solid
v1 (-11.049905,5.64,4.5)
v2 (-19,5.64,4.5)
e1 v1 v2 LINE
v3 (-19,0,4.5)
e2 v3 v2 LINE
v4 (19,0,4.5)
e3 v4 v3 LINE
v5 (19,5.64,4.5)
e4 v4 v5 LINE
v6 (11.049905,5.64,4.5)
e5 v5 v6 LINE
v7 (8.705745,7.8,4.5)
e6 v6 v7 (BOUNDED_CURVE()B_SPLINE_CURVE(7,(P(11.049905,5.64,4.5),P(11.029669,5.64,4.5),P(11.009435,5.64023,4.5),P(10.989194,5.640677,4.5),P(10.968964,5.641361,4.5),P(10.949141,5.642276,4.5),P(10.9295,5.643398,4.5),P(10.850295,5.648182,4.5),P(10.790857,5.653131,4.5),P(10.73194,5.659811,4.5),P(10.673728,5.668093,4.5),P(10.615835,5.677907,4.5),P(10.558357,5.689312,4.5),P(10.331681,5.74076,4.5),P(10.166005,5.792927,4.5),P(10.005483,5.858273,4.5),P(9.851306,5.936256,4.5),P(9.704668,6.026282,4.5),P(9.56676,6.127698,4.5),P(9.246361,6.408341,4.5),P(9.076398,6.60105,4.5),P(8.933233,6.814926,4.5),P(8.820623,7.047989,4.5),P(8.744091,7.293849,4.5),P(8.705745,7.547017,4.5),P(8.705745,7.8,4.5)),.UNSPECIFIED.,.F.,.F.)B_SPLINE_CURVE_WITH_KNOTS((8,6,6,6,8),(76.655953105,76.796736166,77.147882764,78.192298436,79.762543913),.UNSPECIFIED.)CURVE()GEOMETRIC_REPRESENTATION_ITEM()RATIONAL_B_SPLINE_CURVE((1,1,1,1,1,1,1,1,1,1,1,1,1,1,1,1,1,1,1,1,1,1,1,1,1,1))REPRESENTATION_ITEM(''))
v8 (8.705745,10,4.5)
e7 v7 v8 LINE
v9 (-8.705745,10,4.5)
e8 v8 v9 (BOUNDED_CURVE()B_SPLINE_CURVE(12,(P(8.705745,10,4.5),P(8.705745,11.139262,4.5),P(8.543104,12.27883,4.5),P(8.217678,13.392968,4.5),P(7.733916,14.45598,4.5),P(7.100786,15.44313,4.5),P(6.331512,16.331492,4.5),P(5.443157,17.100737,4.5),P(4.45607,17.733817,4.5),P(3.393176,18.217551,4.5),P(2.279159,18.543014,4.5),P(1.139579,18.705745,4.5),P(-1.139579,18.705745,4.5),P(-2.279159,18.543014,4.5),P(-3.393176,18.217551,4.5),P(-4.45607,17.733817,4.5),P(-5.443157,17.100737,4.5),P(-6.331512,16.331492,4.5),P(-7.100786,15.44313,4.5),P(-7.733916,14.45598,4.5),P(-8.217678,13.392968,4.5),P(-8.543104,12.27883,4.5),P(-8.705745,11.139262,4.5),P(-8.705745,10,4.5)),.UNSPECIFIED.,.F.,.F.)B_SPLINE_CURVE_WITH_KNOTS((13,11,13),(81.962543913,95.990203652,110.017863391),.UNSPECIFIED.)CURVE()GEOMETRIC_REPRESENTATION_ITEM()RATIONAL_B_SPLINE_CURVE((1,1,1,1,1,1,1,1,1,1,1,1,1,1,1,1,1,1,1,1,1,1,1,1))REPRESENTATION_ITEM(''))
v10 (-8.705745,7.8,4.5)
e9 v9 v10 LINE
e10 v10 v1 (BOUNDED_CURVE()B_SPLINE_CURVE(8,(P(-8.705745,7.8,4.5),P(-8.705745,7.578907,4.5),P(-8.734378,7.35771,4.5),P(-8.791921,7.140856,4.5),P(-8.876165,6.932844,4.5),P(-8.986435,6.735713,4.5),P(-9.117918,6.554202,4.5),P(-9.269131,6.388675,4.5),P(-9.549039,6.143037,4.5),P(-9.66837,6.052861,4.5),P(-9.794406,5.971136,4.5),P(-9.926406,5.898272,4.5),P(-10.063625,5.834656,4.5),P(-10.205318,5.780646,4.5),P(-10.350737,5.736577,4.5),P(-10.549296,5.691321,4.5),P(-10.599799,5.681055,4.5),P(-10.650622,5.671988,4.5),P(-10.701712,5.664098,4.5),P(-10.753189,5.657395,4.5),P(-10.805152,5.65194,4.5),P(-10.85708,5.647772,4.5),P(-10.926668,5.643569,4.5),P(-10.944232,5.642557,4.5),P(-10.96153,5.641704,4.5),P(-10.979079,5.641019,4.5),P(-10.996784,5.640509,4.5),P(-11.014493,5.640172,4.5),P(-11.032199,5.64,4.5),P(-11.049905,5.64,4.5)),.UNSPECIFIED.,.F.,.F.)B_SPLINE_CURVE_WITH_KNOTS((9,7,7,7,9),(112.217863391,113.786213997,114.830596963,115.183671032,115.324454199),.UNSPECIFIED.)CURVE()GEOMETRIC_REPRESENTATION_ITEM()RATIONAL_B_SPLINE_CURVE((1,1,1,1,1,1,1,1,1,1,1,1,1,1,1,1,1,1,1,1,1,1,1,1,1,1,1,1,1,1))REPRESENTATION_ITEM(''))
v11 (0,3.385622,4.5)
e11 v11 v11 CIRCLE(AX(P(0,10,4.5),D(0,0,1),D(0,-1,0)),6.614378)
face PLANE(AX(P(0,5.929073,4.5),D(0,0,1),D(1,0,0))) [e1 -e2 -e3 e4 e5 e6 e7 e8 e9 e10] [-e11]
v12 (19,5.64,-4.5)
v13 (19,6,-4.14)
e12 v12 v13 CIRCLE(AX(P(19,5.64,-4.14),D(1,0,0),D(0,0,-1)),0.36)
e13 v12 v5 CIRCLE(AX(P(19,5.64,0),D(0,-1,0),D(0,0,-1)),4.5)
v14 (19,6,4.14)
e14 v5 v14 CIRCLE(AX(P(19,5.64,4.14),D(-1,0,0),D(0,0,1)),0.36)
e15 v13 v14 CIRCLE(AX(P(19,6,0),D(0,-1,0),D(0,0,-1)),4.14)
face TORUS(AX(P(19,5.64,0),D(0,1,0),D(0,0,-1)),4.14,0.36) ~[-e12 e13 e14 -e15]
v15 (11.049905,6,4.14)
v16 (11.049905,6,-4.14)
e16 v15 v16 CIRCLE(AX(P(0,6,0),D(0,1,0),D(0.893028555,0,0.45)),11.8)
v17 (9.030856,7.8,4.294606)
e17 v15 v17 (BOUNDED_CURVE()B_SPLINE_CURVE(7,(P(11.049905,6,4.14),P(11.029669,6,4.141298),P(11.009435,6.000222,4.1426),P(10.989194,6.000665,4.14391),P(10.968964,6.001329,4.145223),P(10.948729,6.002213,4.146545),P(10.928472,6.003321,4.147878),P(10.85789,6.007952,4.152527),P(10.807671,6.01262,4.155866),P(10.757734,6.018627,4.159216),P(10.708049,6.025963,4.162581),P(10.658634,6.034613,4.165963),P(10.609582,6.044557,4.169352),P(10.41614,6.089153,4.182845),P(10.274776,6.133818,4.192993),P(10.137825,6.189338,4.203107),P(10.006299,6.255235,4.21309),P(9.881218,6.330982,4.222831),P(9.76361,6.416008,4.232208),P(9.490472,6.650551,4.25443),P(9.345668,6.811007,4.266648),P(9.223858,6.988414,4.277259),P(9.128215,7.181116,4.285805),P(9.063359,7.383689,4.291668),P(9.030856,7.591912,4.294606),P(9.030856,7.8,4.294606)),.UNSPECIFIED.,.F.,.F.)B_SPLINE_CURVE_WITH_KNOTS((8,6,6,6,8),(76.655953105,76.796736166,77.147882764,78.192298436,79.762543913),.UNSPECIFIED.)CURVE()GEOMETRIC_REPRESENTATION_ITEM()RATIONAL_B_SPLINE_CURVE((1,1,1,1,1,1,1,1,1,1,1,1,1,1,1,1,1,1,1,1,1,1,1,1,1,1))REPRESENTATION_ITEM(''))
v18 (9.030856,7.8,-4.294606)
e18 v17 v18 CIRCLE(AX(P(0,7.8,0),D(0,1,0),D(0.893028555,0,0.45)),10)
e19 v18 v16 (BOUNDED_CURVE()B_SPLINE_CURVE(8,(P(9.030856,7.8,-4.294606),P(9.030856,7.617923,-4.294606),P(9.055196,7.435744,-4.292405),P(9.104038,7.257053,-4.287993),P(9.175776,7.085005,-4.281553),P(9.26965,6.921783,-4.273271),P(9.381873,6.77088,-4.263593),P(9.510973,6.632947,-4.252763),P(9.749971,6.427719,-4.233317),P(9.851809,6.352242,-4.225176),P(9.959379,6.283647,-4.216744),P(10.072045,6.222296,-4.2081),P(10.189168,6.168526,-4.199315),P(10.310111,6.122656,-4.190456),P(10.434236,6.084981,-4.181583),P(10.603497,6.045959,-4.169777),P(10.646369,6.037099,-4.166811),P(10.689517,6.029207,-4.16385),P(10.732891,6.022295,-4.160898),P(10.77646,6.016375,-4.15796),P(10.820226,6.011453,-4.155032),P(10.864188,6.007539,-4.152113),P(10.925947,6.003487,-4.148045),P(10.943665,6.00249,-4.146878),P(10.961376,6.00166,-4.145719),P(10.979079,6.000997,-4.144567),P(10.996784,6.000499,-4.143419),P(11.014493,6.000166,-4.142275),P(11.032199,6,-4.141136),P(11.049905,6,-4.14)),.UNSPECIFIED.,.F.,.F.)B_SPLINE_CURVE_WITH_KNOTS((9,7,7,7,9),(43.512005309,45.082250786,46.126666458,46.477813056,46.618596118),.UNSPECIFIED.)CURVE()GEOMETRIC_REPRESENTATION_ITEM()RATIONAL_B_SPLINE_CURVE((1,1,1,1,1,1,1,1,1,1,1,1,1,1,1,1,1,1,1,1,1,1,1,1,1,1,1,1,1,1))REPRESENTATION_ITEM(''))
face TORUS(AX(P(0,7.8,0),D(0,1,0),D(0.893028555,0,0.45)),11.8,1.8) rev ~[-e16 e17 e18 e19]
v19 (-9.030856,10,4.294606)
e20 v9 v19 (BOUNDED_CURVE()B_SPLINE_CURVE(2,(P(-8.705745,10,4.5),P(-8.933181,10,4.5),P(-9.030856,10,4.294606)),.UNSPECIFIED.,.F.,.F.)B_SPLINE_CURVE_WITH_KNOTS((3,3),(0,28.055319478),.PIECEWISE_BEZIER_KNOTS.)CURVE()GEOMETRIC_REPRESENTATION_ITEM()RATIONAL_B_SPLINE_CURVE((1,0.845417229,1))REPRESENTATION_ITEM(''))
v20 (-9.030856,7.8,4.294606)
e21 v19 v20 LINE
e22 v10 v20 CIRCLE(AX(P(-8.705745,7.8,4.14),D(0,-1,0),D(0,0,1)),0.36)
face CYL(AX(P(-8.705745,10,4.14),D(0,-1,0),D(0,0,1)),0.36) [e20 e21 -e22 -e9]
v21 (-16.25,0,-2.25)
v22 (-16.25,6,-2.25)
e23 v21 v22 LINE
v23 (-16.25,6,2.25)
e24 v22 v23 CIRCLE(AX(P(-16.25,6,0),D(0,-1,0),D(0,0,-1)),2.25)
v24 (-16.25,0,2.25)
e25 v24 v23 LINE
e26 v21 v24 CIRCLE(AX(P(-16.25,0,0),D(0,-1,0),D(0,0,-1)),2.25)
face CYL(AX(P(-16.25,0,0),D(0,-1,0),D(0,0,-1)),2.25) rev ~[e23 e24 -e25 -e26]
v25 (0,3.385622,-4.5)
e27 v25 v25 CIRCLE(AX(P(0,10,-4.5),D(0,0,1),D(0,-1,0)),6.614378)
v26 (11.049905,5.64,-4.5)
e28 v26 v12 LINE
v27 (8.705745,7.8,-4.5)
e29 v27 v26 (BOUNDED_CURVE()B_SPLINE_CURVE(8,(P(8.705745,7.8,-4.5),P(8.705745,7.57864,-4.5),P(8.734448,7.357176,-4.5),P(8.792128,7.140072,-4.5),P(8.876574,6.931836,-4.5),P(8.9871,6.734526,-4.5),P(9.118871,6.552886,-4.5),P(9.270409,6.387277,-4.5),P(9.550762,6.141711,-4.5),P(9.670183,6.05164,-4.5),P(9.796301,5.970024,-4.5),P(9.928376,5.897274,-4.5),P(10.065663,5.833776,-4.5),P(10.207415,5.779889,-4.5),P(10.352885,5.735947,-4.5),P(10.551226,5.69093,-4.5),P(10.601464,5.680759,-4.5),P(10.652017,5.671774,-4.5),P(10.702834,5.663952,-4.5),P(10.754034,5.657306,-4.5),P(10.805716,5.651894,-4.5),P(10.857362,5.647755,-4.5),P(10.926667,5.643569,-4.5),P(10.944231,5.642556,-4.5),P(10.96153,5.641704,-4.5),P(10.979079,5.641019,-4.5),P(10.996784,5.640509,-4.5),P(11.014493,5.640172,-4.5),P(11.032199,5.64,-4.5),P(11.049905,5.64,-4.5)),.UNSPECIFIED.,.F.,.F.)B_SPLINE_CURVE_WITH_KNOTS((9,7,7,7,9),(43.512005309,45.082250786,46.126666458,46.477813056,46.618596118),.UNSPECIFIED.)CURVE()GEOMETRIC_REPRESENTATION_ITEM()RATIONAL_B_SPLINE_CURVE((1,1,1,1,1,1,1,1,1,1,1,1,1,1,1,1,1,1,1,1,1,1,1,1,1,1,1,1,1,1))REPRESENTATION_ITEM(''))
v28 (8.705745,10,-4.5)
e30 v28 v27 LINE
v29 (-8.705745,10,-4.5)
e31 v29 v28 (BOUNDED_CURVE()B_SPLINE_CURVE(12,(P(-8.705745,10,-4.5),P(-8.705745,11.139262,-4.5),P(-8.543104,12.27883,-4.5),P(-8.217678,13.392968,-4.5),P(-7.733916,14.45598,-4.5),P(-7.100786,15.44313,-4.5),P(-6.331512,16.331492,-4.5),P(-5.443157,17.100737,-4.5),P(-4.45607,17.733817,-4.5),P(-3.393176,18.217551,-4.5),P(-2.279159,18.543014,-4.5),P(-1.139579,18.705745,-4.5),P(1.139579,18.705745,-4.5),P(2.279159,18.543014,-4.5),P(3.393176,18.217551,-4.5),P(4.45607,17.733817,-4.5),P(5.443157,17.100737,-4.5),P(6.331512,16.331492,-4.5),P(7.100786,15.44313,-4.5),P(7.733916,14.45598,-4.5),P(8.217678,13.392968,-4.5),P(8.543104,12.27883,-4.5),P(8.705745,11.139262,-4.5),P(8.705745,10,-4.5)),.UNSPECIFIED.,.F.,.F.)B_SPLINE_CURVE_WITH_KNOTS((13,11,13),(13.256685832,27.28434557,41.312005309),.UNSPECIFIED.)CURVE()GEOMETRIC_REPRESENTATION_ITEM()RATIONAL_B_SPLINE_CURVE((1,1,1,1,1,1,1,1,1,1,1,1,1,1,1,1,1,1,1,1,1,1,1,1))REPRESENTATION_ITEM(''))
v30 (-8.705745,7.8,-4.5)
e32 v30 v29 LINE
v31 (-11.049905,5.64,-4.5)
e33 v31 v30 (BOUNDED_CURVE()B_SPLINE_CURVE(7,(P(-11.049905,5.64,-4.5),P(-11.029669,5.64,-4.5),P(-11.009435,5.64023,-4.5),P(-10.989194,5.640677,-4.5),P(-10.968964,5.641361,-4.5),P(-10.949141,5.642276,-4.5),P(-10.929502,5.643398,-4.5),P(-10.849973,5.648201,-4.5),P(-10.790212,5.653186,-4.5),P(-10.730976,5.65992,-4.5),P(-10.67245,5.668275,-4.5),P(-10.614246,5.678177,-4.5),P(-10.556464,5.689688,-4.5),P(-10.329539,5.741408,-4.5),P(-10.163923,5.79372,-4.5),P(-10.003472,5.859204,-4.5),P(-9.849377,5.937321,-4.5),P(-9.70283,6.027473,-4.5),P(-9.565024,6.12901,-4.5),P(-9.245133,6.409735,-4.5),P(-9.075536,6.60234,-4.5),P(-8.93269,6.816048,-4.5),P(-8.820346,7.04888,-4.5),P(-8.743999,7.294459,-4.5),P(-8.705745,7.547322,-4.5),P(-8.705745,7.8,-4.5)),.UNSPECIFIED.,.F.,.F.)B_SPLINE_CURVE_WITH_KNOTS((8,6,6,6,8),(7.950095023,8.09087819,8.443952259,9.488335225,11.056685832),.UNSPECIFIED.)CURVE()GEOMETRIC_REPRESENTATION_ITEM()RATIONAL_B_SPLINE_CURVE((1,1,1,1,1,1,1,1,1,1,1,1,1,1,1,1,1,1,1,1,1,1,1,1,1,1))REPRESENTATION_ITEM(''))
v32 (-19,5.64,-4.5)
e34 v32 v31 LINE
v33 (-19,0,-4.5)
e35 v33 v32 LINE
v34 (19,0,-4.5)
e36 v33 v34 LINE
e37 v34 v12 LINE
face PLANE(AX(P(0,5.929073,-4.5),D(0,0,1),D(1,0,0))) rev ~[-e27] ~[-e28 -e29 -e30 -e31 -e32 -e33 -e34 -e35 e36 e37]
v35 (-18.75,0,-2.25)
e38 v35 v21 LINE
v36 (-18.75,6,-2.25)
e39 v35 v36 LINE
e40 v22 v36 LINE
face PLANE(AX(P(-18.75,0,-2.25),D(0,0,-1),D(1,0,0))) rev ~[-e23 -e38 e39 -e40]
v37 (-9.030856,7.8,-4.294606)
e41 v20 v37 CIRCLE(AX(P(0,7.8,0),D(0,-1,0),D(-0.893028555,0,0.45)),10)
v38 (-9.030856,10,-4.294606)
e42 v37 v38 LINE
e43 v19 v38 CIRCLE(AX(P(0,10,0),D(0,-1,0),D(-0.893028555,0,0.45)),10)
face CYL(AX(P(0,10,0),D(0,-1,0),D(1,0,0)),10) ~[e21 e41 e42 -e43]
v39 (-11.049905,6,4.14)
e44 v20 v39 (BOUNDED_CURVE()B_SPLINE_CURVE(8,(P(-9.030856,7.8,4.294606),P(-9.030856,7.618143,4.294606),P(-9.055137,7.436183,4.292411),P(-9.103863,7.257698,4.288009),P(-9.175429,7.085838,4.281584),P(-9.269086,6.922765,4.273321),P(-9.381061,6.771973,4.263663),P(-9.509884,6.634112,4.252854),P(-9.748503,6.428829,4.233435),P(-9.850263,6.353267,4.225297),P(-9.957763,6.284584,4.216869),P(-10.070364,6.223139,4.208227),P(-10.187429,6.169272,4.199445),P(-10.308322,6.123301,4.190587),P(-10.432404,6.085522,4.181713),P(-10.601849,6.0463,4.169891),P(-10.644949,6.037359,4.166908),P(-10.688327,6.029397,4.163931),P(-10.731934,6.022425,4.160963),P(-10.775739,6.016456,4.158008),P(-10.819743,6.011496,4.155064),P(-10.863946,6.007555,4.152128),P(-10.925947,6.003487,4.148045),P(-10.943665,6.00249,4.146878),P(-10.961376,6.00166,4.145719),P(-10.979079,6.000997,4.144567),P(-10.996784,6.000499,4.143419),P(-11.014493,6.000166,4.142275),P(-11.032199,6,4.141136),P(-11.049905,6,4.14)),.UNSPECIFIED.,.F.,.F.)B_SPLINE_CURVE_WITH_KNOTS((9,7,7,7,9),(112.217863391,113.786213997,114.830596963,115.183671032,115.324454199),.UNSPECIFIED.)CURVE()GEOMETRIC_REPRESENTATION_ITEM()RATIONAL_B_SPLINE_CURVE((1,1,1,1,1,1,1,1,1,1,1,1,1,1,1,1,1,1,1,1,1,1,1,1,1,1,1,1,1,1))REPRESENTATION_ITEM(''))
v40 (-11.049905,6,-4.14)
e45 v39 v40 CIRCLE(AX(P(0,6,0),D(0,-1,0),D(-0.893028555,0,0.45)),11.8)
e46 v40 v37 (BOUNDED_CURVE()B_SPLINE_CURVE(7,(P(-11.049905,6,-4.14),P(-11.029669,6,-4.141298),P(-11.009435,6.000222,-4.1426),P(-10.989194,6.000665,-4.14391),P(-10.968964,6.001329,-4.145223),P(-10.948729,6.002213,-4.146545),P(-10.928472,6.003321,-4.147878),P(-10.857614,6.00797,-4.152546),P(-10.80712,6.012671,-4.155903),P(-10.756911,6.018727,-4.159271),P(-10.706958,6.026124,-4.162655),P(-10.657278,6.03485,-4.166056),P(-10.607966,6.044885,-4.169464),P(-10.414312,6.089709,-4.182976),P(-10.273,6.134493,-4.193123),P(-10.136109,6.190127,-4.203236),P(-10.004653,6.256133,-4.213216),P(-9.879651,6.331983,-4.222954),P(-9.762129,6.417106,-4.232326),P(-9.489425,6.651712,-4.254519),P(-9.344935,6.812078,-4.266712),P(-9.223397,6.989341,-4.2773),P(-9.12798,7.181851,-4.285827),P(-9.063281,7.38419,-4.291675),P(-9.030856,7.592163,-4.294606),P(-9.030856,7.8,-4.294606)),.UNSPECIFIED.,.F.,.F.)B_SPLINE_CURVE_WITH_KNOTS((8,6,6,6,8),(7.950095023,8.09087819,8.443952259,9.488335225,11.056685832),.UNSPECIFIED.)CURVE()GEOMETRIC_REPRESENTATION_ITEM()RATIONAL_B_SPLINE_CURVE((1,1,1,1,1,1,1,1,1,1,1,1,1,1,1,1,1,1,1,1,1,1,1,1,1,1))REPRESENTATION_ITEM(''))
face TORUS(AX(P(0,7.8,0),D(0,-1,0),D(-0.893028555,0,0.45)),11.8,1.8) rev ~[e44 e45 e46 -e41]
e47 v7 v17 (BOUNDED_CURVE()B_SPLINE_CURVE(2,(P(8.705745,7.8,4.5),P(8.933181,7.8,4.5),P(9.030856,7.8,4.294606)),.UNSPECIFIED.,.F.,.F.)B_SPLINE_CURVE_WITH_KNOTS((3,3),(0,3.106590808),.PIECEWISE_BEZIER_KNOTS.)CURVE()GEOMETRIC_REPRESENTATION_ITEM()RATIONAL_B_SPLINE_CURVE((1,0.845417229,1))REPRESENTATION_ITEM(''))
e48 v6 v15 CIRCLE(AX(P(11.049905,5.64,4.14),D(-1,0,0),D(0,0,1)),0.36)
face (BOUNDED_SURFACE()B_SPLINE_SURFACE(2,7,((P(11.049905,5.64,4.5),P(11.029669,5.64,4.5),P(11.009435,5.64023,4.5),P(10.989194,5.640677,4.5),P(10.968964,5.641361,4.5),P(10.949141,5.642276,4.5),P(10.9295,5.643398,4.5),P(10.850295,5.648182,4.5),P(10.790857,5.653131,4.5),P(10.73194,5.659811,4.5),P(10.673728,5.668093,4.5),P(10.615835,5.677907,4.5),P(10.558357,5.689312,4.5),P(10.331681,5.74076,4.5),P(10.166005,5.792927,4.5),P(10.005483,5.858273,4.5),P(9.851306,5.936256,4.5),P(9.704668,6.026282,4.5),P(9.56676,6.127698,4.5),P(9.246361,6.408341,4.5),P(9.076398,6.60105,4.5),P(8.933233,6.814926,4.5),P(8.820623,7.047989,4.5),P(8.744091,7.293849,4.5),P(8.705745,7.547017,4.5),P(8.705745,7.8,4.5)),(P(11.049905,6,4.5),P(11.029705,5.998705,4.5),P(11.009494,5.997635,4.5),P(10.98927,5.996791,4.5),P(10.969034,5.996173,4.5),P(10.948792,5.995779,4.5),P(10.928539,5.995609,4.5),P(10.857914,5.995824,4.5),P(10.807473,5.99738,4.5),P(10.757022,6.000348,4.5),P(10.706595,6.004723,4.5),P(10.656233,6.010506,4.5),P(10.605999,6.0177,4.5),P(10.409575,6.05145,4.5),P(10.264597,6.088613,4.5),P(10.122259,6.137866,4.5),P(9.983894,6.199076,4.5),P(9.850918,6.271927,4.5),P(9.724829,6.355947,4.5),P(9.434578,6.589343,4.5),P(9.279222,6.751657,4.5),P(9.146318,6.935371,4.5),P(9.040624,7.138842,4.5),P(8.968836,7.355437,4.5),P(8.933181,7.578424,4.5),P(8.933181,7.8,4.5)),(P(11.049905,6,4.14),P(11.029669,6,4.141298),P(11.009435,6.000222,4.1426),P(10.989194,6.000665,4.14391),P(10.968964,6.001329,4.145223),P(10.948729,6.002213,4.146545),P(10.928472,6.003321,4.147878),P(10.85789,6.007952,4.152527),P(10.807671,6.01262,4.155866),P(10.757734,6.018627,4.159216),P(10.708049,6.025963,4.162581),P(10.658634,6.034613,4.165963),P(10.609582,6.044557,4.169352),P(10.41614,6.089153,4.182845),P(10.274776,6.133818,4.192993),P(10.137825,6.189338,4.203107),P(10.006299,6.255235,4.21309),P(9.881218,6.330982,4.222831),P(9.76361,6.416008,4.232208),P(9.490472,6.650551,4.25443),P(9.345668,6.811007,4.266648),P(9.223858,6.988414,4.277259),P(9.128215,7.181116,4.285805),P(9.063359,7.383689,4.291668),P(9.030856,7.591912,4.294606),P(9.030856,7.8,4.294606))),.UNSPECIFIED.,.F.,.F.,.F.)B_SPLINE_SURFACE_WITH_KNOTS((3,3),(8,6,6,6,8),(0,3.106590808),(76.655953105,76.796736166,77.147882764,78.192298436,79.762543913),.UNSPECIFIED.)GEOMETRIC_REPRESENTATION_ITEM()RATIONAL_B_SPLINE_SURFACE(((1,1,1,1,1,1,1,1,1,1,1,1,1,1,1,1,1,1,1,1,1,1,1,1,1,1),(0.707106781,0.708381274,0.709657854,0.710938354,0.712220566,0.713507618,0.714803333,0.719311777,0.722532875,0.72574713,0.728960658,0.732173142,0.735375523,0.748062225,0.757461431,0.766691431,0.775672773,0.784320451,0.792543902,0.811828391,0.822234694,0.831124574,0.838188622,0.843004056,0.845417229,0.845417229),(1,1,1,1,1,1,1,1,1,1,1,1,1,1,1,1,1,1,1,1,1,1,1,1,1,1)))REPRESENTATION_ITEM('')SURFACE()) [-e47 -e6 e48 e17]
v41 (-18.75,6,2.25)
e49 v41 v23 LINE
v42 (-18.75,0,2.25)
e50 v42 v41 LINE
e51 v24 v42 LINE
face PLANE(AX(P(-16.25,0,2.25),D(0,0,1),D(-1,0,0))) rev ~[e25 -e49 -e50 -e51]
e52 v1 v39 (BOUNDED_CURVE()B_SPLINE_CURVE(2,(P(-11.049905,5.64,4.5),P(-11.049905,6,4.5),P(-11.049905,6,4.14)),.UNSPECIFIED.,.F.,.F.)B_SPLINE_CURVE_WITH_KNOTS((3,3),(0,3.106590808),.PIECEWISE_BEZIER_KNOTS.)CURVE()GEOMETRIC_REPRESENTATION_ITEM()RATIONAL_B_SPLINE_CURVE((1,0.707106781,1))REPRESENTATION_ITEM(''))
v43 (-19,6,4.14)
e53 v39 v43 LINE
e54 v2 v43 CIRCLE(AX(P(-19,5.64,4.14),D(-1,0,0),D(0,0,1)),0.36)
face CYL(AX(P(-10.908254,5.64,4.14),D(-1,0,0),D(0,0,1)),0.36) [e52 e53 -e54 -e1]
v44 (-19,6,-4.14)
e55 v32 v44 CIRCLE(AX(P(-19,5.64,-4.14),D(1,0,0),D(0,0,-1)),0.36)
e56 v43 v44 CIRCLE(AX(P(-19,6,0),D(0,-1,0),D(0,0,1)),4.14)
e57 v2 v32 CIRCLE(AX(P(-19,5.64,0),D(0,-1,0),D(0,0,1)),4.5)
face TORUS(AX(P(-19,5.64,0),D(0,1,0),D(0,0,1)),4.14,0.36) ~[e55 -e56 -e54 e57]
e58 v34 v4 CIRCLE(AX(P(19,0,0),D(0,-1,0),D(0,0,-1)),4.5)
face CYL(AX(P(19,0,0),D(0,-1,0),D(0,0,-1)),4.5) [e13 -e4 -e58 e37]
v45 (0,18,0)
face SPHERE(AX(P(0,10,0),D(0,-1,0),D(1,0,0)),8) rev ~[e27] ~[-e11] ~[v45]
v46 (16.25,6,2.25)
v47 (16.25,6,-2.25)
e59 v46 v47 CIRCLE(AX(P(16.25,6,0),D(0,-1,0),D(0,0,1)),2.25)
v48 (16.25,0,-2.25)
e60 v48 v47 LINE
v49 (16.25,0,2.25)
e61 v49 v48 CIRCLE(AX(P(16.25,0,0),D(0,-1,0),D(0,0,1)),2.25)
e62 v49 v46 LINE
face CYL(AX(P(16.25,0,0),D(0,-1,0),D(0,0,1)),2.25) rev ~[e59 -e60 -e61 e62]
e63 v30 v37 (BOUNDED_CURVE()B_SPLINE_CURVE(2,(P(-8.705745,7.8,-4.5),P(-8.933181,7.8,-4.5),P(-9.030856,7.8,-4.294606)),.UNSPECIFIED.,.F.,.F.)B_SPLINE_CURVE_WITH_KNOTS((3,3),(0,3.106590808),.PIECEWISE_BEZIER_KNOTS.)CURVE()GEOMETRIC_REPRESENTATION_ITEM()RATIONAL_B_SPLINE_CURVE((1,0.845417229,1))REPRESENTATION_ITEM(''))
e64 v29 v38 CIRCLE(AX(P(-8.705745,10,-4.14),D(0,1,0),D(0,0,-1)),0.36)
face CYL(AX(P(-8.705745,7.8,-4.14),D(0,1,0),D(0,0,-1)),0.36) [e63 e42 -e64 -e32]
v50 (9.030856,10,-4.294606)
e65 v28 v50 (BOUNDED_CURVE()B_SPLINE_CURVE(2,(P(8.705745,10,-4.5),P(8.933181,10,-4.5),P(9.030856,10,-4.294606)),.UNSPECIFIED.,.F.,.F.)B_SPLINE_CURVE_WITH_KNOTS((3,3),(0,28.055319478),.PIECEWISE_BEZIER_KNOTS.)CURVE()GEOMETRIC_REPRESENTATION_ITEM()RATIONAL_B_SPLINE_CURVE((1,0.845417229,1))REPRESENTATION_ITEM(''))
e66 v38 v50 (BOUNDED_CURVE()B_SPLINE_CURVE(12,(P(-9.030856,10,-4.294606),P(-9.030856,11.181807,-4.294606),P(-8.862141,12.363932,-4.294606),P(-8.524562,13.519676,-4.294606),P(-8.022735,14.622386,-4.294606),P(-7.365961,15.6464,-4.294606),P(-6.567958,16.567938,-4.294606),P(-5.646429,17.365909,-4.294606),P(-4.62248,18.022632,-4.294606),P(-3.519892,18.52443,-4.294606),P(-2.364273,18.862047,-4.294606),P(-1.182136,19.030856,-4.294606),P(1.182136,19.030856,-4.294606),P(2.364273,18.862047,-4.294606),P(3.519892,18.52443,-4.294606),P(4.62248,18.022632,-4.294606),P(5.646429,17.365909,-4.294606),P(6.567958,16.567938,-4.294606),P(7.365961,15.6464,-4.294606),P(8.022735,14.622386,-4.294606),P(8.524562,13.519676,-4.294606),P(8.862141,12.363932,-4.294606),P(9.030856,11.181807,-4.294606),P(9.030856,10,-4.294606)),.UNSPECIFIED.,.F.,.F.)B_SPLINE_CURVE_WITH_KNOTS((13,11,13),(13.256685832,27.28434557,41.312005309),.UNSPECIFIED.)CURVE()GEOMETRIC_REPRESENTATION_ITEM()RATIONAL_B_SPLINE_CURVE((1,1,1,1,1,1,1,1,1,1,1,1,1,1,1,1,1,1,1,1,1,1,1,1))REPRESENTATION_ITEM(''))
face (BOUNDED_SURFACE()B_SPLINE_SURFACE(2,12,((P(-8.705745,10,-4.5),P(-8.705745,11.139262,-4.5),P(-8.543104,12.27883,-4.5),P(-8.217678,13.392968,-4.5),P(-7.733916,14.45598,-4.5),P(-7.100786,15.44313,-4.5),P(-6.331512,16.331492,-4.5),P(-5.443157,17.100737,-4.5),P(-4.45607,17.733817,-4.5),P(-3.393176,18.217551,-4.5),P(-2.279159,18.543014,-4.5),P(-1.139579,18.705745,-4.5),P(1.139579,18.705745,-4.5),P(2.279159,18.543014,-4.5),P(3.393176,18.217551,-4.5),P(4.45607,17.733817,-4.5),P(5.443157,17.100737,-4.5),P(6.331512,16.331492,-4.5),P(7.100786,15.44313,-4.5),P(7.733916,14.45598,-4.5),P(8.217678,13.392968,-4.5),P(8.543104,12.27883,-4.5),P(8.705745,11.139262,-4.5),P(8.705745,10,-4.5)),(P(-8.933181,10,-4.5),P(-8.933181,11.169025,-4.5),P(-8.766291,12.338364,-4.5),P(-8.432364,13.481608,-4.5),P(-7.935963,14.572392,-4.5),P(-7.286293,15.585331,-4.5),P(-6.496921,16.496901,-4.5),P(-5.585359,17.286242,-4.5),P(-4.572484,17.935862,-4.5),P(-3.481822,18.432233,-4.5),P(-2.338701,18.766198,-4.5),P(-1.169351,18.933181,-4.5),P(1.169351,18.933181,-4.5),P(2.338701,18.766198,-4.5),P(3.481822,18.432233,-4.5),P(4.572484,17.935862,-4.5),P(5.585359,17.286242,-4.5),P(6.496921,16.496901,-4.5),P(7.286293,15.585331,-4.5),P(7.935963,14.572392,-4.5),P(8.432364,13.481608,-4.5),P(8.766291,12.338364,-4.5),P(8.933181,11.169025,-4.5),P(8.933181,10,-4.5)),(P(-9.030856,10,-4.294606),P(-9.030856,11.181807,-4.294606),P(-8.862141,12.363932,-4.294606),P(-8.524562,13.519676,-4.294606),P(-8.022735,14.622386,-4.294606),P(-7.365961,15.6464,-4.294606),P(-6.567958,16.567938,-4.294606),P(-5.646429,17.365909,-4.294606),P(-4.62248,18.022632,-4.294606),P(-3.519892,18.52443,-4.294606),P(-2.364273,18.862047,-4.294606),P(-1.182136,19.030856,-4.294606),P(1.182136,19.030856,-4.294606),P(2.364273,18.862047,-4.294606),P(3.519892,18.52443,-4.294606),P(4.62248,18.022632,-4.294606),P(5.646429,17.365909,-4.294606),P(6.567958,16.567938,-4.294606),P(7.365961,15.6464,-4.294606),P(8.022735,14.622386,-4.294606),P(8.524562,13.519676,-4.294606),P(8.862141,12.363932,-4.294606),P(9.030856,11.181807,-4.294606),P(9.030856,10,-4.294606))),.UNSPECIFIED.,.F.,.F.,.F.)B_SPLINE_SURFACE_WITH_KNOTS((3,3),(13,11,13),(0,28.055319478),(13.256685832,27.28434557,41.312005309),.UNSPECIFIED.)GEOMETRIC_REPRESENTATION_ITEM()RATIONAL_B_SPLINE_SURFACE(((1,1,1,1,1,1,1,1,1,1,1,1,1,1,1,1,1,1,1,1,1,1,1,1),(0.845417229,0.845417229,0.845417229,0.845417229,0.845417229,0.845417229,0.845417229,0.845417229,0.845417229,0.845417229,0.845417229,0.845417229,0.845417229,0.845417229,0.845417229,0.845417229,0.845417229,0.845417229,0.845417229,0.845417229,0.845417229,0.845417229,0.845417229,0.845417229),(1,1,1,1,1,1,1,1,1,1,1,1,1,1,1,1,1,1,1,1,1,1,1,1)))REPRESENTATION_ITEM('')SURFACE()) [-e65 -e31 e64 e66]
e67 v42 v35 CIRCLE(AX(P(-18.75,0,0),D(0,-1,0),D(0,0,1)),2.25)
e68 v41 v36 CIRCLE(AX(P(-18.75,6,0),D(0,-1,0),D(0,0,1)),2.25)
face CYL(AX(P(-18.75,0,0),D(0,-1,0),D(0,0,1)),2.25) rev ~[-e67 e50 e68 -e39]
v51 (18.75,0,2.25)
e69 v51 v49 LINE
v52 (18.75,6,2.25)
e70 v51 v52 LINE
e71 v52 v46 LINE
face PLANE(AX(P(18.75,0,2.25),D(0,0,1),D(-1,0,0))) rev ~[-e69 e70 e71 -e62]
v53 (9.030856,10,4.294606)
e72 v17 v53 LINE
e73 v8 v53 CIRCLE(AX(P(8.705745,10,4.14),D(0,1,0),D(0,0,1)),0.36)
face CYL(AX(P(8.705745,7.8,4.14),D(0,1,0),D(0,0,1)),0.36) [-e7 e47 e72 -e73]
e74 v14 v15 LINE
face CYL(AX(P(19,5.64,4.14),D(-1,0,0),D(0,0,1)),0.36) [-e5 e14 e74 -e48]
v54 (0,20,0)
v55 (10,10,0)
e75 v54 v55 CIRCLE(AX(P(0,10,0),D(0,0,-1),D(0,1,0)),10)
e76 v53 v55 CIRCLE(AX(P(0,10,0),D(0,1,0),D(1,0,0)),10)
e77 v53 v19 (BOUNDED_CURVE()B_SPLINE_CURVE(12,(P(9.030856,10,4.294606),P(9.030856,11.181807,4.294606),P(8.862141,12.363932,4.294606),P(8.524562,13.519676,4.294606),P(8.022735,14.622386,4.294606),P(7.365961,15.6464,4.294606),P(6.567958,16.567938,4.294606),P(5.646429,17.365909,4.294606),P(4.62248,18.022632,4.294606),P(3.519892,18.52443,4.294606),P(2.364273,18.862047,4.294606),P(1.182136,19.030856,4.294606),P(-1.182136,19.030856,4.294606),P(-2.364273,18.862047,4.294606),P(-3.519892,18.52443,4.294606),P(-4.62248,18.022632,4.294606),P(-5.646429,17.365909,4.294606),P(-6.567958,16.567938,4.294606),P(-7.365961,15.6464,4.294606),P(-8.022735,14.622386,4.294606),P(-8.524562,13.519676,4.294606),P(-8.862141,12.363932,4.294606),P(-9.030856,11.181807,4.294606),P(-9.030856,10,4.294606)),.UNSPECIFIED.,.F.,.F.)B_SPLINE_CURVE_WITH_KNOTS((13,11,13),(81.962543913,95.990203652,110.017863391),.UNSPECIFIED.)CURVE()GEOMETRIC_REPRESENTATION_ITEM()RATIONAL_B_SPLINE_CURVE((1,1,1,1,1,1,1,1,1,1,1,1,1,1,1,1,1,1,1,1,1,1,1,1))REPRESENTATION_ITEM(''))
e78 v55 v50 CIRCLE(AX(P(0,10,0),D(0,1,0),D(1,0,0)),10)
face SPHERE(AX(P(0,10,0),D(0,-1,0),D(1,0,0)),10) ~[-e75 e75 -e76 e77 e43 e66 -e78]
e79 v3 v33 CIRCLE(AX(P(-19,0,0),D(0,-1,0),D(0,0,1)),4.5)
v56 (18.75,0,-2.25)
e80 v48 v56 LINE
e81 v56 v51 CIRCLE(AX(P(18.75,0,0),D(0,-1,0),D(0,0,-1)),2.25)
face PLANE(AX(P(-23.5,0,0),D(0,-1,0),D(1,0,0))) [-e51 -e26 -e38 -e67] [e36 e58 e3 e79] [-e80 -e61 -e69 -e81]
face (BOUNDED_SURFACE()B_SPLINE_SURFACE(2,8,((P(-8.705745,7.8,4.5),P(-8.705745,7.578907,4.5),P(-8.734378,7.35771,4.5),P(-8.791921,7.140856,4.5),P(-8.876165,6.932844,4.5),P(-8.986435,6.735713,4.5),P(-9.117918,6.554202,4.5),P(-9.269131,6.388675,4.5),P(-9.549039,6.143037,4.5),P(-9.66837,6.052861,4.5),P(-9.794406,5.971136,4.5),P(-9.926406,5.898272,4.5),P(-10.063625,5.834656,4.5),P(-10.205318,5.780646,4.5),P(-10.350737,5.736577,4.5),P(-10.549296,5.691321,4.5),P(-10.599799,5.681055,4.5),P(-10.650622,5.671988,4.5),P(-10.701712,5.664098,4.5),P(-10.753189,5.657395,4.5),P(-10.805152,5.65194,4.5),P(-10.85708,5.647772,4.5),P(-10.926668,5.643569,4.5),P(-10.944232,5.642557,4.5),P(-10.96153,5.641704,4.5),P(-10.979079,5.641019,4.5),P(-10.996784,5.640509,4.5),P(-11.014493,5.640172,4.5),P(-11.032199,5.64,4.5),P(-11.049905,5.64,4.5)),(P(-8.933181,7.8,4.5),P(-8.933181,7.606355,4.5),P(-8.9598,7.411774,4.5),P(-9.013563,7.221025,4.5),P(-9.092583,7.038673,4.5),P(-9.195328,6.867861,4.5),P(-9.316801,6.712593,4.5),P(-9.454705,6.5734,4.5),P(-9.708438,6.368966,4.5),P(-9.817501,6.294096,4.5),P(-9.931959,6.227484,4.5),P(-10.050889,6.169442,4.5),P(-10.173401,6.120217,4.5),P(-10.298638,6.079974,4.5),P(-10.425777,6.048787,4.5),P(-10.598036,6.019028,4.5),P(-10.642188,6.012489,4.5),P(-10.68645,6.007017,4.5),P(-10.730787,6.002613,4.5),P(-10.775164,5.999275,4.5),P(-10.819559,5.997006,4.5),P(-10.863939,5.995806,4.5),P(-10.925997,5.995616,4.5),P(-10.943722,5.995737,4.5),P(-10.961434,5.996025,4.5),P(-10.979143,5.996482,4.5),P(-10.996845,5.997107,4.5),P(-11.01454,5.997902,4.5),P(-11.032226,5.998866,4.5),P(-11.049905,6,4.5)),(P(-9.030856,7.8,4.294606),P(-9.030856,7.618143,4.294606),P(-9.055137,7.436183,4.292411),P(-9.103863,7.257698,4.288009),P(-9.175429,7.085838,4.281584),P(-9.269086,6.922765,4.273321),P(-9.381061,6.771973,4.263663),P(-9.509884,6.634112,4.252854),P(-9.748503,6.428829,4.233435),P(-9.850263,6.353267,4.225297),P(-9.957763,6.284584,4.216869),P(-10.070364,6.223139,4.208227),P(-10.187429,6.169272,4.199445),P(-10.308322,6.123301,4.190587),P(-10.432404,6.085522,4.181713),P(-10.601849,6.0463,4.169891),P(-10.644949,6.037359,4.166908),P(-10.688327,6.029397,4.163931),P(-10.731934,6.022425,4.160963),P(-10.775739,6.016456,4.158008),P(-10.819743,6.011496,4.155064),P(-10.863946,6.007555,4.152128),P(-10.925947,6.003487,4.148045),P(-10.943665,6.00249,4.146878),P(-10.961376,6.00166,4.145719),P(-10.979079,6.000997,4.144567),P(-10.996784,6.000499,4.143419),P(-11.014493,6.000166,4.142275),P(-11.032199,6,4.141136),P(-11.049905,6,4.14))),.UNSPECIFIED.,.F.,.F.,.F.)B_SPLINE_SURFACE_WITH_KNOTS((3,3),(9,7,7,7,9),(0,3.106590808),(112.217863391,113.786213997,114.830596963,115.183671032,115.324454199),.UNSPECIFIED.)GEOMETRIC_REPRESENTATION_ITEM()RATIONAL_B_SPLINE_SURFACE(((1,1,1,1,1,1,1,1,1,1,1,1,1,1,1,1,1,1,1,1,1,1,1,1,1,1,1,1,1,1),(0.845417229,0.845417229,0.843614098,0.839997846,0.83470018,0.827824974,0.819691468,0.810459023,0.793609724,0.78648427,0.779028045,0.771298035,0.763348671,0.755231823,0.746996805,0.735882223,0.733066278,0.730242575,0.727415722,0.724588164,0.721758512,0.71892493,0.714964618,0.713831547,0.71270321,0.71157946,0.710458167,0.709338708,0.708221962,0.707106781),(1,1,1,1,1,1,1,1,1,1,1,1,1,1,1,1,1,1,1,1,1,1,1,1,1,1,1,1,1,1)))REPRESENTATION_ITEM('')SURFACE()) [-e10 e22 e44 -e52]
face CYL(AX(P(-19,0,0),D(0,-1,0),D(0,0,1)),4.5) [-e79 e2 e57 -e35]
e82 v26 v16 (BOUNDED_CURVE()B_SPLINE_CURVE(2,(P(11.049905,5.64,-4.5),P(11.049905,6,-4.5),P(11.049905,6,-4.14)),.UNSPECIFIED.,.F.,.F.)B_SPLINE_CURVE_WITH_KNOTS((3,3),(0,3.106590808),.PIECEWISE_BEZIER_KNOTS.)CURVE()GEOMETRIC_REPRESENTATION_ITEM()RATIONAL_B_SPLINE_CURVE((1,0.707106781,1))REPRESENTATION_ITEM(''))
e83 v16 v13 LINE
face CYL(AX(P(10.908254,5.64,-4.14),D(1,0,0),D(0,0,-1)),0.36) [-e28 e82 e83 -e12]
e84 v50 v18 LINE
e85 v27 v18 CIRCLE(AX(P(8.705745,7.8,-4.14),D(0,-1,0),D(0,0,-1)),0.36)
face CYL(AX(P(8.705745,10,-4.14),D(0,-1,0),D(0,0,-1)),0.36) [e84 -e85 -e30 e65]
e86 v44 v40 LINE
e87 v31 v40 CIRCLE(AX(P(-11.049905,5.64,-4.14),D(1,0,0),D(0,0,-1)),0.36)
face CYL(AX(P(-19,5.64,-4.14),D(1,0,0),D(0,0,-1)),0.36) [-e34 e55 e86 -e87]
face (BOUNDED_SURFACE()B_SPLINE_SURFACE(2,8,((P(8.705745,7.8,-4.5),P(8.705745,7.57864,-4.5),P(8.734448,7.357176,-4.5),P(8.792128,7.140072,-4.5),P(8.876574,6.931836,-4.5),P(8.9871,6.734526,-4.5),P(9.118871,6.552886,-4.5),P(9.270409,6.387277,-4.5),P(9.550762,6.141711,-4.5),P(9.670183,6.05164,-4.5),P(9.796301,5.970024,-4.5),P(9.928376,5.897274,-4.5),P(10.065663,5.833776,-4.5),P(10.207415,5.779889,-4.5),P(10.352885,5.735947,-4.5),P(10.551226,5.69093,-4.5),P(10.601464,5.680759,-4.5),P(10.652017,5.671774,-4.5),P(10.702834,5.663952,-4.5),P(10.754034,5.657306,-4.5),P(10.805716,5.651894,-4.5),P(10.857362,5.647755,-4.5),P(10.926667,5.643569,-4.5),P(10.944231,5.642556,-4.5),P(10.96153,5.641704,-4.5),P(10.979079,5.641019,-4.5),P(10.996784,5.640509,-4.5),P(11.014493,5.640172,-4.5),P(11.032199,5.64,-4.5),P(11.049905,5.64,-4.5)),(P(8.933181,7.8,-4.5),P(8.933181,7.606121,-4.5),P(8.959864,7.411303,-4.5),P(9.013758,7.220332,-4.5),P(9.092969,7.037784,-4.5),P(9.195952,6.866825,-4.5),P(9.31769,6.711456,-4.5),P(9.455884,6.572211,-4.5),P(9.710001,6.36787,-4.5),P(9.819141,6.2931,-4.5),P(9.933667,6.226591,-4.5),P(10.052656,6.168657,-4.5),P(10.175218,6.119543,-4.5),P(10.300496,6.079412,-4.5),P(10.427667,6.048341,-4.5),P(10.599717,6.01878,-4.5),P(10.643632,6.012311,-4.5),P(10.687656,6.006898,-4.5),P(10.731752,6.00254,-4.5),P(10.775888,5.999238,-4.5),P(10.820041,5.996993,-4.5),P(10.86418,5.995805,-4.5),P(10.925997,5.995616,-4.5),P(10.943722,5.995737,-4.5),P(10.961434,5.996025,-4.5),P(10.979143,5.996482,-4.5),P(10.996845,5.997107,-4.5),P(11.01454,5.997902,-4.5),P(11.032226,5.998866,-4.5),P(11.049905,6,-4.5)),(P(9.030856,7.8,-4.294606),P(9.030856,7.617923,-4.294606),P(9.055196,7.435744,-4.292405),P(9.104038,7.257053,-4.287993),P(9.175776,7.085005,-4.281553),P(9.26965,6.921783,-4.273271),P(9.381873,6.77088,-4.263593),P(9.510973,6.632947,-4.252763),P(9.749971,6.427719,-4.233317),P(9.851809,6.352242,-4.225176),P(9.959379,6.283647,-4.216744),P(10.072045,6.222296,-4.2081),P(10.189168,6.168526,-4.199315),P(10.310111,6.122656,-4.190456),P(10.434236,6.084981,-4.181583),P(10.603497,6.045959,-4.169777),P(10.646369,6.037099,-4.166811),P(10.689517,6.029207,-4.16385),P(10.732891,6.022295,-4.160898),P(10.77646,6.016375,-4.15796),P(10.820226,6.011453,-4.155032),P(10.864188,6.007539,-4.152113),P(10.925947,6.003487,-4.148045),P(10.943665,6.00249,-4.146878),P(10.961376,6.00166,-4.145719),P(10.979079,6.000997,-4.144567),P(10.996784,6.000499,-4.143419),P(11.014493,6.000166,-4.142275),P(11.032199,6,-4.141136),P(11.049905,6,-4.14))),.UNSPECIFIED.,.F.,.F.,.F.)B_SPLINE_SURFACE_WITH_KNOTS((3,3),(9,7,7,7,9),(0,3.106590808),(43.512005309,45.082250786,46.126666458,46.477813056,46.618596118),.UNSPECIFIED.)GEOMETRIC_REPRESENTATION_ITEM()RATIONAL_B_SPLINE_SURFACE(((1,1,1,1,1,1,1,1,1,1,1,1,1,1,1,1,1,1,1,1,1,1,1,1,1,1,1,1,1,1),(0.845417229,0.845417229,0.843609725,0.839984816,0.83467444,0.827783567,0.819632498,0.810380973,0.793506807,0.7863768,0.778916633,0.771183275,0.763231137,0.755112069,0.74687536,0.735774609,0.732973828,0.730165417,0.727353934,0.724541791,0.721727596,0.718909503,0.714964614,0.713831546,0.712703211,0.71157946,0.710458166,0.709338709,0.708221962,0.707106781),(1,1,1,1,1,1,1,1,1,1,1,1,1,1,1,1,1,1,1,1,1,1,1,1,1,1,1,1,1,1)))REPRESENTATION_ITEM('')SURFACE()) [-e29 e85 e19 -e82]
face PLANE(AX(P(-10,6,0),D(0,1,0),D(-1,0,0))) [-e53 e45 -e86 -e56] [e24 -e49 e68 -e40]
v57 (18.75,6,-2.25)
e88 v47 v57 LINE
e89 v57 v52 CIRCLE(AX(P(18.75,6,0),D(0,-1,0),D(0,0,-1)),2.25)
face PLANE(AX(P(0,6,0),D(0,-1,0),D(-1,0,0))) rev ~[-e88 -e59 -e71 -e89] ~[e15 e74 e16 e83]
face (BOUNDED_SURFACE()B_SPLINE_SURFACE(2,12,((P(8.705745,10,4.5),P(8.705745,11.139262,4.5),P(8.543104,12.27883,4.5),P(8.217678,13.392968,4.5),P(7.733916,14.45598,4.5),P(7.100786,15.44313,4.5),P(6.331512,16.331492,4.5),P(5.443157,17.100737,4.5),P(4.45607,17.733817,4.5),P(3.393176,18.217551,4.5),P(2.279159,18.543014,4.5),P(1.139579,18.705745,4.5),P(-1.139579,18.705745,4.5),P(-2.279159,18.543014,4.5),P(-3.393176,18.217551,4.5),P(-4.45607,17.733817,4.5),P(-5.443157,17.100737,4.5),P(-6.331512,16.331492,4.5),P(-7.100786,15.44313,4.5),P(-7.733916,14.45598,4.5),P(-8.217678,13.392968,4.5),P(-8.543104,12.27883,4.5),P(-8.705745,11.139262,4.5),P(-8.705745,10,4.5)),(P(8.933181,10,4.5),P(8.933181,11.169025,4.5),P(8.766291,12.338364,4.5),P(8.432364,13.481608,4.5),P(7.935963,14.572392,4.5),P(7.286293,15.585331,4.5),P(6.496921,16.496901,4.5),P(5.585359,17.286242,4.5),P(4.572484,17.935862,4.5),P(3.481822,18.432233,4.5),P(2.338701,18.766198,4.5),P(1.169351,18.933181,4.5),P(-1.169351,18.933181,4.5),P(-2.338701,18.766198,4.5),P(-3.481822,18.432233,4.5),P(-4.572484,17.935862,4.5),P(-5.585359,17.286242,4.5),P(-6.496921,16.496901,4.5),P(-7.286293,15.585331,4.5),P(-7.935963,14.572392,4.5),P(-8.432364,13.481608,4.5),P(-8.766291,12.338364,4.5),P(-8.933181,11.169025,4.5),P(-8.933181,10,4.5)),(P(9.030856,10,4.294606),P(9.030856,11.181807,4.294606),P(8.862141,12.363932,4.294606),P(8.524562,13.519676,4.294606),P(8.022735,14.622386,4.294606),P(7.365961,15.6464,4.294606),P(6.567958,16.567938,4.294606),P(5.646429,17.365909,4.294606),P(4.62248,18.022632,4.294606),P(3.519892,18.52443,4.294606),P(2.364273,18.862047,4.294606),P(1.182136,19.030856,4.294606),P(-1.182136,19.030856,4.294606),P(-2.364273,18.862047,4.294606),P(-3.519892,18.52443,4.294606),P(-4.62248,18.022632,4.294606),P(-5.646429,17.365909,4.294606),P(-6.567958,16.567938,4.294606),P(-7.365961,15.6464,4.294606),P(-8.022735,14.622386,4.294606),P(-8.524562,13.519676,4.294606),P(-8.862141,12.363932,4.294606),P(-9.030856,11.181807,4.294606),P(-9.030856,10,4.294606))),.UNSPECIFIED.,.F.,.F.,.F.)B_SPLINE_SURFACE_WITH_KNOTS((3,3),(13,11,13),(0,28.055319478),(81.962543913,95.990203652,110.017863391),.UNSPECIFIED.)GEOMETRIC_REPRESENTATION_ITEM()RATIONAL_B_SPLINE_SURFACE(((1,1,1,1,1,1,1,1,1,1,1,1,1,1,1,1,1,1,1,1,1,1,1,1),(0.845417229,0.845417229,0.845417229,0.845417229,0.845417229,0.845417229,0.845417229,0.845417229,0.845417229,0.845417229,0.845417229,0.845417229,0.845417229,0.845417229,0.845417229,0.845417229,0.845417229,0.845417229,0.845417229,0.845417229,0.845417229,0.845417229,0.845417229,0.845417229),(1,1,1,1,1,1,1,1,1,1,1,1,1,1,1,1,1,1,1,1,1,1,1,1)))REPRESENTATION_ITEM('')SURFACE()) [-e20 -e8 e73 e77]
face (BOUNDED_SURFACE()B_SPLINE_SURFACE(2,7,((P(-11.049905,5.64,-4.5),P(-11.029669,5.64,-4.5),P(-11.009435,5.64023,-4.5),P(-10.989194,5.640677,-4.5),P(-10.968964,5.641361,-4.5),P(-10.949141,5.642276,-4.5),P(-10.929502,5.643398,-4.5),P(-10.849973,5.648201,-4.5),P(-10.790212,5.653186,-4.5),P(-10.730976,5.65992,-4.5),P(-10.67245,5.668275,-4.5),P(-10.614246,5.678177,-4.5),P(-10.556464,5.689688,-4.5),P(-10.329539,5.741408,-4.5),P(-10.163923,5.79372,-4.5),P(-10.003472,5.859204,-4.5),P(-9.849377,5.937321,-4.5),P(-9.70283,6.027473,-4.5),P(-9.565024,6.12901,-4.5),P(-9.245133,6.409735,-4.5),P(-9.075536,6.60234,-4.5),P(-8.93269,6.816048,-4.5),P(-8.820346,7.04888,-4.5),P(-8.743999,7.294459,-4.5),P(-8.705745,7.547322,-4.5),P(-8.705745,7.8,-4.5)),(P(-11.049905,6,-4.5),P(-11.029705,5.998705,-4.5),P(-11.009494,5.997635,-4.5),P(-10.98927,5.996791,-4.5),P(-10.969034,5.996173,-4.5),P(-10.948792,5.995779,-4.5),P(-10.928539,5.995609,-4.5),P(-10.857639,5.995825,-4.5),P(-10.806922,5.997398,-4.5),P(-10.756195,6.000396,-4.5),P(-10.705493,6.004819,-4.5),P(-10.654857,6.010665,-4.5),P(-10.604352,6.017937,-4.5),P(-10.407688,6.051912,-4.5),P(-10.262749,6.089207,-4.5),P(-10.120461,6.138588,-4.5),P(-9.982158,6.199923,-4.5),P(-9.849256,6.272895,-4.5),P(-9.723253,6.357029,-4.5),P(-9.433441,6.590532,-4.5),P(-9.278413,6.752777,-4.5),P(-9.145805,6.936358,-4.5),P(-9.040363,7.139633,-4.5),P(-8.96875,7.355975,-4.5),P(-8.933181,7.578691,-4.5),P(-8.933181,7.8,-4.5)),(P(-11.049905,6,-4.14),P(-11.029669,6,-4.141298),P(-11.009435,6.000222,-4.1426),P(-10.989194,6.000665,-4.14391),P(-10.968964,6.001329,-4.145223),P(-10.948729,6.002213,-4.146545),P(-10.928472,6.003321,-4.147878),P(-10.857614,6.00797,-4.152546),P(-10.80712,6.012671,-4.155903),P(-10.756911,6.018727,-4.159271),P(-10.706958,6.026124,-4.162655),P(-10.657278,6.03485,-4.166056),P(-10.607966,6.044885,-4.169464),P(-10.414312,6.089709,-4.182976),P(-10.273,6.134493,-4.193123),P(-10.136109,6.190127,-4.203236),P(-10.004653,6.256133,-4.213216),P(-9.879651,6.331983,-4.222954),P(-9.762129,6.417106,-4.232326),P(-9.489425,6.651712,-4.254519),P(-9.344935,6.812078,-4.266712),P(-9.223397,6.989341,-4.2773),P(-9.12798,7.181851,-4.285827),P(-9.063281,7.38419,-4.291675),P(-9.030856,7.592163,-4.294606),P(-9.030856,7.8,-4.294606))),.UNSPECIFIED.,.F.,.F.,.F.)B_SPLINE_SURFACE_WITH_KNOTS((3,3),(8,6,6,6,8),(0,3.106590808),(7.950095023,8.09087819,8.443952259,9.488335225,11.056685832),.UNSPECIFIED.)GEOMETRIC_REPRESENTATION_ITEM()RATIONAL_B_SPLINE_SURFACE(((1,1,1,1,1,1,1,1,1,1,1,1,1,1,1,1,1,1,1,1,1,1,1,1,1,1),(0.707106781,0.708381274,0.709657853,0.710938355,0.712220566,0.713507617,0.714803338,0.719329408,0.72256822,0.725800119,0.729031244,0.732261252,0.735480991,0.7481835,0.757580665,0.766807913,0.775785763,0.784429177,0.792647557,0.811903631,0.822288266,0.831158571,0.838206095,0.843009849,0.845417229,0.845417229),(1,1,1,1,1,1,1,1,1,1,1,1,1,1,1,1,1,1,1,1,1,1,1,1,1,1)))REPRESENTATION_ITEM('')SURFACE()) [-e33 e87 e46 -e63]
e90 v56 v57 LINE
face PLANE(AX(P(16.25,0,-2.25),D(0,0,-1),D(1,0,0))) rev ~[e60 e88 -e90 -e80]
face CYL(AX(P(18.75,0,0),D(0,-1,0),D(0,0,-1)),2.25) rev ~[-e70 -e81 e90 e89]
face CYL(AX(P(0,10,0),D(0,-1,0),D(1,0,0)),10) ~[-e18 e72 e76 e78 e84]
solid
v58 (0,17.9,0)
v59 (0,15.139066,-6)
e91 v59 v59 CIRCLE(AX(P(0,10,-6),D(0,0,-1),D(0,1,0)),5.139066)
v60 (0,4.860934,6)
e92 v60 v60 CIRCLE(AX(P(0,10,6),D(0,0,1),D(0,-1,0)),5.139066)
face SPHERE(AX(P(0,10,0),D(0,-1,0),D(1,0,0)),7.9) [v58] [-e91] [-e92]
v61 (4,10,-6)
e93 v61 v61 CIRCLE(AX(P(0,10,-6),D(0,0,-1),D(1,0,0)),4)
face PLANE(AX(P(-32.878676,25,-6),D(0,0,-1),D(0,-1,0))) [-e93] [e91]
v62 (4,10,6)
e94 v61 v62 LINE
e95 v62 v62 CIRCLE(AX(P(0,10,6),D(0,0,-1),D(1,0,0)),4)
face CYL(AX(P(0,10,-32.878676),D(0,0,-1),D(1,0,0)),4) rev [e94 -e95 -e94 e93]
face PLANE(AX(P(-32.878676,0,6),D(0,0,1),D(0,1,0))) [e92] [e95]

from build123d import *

# Parameters (mm, degrees)
EXTRUDE1_DEPTH          = 4.5
SKETCH3_OUTSIDE_W       = 59.374
SKETCH3_OUTSIDE_H       = 21.374
CUT_EXTRUDE1_DEPTH      = 32.18493225902536
CUT_EXTRUDE2_DEPTH      = 32.87867625859017
CUT_EXTRUDE2_DEPTH_BACK = 32.87867625859017
SKETCH6_OUTSIDE_W       = 28.706000000000003
SKETCH6_OUTSIDE_H       = 32.706
CUT_EXTRUDE3_DEPTH      = 32.87867625859017
CUT_EXTRUDE3_DEPTH_BACK = 32.87867625859017
SKETCH7_R               = 4
FILLET2_R               = 1.8
FILLET1_R               = 0.36


with BuildPart() as part:
    # Sketch1 → Extrude1 (new, symmetric)
    with BuildSketch(Plane.XY):
        with BuildLine():
            Line((-23.5, 0), (23.5, 0))
            Line((23.5, 0), (23.5, 6))
            Line((23.5, 6), (9.999999999999998, 5.9999999999999964))
            Line((9.999999999999998, 5.9999999999999964), (10.000000000000002, 10.000000000000002))
            ThreePointArc((10.000000000000002, 10.000000000000002), (6.1e-16, 20.000000000000004), (-10.000000000000002, 10.000000000000002))
            Line((-10.000000000000002, 10.000000000000002), (-9.999999999999991, 5.999999999999995))
            Line((-9.999999999999991, 5.999999999999995), (-23.5, 6))
            Line((-23.5, 6), (-23.5, 0))
        make_face()
    extrude(amount=EXTRUDE1_DEPTH, both=True)

    # Sketch2 → Cut-Revolve1 (revolve, cut)
    with BuildSketch(Plane.XY):
        with BuildLine():
            Line((15.000000000000004, 5.9999999999999964), (15.000000000000004, 25.000000000000007))
            Line((15.000000000000004, 25.000000000000007), (5.39e-15, 25.000000000000007))
            Line((5.39e-15, 25.000000000000007), (6e-15, 20.000000000000004))
            ThreePointArc((6e-15, 20.000000000000004), (7.071067811865478, 17.071067811865476), (10.000000000000002, 10.000000000000002))
            Line((10.000000000000002, 10.000000000000002), (9.999999999999998, 5.9999999999999964))
            Line((9.999999999999998, 5.9999999999999964), (15.000000000000004, 5.9999999999999964))
        make_face()
    revolve(axis=Axis((5.39e-15, 25.000000000000007, 0), (-1.08e-15, 1, 0)), mode=Mode.SUBTRACT)

    # Sketch3 outside → Cut-Extrude1 (cut, through all)
    # profile 1 of 3: a face of its own
    with BuildSketch(Plane(origin=(0, 0, 0), x_dir=(1, 0, 0), z_dir=(0, 1, 0))):
        Rectangle(SKETCH3_OUTSIDE_W, SKETCH3_OUTSIDE_H)
        with BuildLine():
            Line((-19.000000000000004, 4.500000000000003), (19.000000000000004, 4.499999999999999))
            ThreePointArc((19.000000000000004, 4.499999999999999), (23.500000000000004, 0), (19.000000000000004, -4.500000000000001))
            Line((19.000000000000004, -4.500000000000001), (-19.000000000000004, -4.500000000000003))
            ThreePointArc((-19.000000000000004, -4.500000000000003), (-23.500000000000007, 5.5e-16), (-19.000000000000004, 4.500000000000003))
        make_face(mode=Mode.SUBTRACT)
    # profile 2 of 3: a face of its own
    with BuildSketch(Plane(origin=(0, 0, 0), x_dir=(1, 0, 0), z_dir=(0, 1, 0))):
        with BuildLine():
            Line((-18.750000000000004, 2.2500000000000004), (-16.25, 2.2500000000000004))
            ThreePointArc((-16.25, 2.2500000000000004), (-14, 2e-16), (-16.25, -2.2499999999999996))
            Line((-16.25, -2.2499999999999996), (-18.750000000000004, -2.2499999999999996))
            ThreePointArc((-18.750000000000004, -2.2499999999999996), (-21.000000000000004, 4.9e-16), (-18.750000000000004, 2.2500000000000004))
        make_face()
    # profile 3 of 3: a face of its own
    with BuildSketch(Plane(origin=(0, 0, 0), x_dir=(1, 0, 0), z_dir=(0, 1, 0))):
        with BuildLine():
            Line((16.25, 2.2500000000000004), (18.750000000000004, 2.2500000000000004))
            ThreePointArc((18.750000000000004, 2.2500000000000004), (21.000000000000004, 2.2e-16), (18.750000000000004, -2.2499999999999996))
            Line((18.750000000000004, -2.2499999999999996), (16.25, -2.2499999999999996))
            ThreePointArc((16.25, -2.2499999999999996), (14, 4.9e-16), (16.25, 2.2500000000000004))
        make_face()
    extrude(amount=CUT_EXTRUDE1_DEPTH, mode=Mode.SUBTRACT)

    # Sketch4 → Cut-Revolve2 (revolve, cut)
    with BuildSketch(Plane.XY):
        with BuildLine():
            Line((0, 2.0000000000000018), (0, 18.000000000000004))
            ThreePointArc((0, 18.000000000000004), (8.000000000000002, 10.000000000000002), (0, 2.0000000000000018))
        make_face()
    revolve(axis=Axis((0, 2.0000000000000018, 0), (0, -1, 0)), mode=Mode.SUBTRACT)

    # Fillet2
    fillet2_edges = [part.edges().sort_by_distance(p)[0] for p in [
        (9.999999999999998, 5.9999999999999964, 0),
        (-9.999999999999945, 5.999999999999975, -8.9e-16),
    ]]
    fillet(fillet2_edges, radius=FILLET2_R)

    # Fillet1
    fillet1_edges = [part.edges().sort_by_distance(p)[0] for p in [
        (-14.954126877878789, 5.999999999999986, -4.500000000000001),
        (-14.954126877878785, 5.999999999999986, 4.499999999999999),
        (-8.93028554974583, 8.899999999999988, 4.5),
        (-8.93028554974583, 8.899999999999988, -4.5),
        (-9.546163849798285, 6.501316775429935, -4.5),
        (-9.54616384979828, 6.501316775429937, 4.5),
        (9.546163849889266, 6.501316775539111, 4.5),
        (9.546163849889268, 6.50131677553911, -4.5),
        (8.930285549745877, 8.899999999999997, -4.5),
        (-9.95e-15, 18.930285549745882, -4.5),
        (-9.95e-15, 18.930285549745882, 4.5),
        (8.930285549745877, 8.899999999999997, 4.5),
        (14.95412687787881, 5.999999999999997, -4.5),
        (14.95412687787881, 5.999999999999997, 4.499999999999999),
        (23.500000000000004, 6.000000000000006, 8.83e-15),
        (-23.500000000000007, 5.999999999999998, -2.61e-15),
    ]]
    fillet(fillet1_edges, radius=FILLET1_R)


with BuildPart() as body_2:
    # Sketch5 → Revolve1 (revolve)
    with BuildSketch(Plane.XY):
        with BuildLine():
            Line((0, 2.100000000000001), (0, 17.900000000000002))
            ThreePointArc((0, 17.900000000000002), (7.9, 10.000000000000002), (0, 2.100000000000001))
        make_face()
    revolve(axis=Axis((0, 2.100000000000001, 0), (0, -1, 0)))

    # Sketch6 outside → Cut-Extrude2 (cut, two sides: drawn at the far end of the back side and taken through both)
    with BuildSketch(Plane(origin=(0, 0, 0), x_dir=(0, 0, -1), z_dir=(1, 0, 0)).offset(-CUT_EXTRUDE2_DEPTH_BACK)):
        with Locations((0, 10.000000000000002)):
            Rectangle(SKETCH6_OUTSIDE_W, SKETCH6_OUTSIDE_H)
        Polygon((-6, 25.000000000000007), (6, 25.000000000000007), (5.999999999999995, 0), (-5.999999999999995, 0), align=None, mode=Mode.SUBTRACT)
    extrude(amount=CUT_EXTRUDE2_DEPTH + CUT_EXTRUDE2_DEPTH_BACK, mode=Mode.SUBTRACT)

    # Sketch7 → Cut-Extrude3 (cut, two sides: drawn at the far end of the back side and taken through both)
    with BuildSketch(Plane.XY.offset(-CUT_EXTRUDE3_DEPTH_BACK)):
        with Locations((0, 10.000000000000002)):
            Circle(SKETCH7_R)
    extrude(amount=CUT_EXTRUDE3_DEPTH + CUT_EXTRUDE3_DEPTH_BACK, mode=Mode.SUBTRACT)


solid = Compound([part.part, body_2.part])
